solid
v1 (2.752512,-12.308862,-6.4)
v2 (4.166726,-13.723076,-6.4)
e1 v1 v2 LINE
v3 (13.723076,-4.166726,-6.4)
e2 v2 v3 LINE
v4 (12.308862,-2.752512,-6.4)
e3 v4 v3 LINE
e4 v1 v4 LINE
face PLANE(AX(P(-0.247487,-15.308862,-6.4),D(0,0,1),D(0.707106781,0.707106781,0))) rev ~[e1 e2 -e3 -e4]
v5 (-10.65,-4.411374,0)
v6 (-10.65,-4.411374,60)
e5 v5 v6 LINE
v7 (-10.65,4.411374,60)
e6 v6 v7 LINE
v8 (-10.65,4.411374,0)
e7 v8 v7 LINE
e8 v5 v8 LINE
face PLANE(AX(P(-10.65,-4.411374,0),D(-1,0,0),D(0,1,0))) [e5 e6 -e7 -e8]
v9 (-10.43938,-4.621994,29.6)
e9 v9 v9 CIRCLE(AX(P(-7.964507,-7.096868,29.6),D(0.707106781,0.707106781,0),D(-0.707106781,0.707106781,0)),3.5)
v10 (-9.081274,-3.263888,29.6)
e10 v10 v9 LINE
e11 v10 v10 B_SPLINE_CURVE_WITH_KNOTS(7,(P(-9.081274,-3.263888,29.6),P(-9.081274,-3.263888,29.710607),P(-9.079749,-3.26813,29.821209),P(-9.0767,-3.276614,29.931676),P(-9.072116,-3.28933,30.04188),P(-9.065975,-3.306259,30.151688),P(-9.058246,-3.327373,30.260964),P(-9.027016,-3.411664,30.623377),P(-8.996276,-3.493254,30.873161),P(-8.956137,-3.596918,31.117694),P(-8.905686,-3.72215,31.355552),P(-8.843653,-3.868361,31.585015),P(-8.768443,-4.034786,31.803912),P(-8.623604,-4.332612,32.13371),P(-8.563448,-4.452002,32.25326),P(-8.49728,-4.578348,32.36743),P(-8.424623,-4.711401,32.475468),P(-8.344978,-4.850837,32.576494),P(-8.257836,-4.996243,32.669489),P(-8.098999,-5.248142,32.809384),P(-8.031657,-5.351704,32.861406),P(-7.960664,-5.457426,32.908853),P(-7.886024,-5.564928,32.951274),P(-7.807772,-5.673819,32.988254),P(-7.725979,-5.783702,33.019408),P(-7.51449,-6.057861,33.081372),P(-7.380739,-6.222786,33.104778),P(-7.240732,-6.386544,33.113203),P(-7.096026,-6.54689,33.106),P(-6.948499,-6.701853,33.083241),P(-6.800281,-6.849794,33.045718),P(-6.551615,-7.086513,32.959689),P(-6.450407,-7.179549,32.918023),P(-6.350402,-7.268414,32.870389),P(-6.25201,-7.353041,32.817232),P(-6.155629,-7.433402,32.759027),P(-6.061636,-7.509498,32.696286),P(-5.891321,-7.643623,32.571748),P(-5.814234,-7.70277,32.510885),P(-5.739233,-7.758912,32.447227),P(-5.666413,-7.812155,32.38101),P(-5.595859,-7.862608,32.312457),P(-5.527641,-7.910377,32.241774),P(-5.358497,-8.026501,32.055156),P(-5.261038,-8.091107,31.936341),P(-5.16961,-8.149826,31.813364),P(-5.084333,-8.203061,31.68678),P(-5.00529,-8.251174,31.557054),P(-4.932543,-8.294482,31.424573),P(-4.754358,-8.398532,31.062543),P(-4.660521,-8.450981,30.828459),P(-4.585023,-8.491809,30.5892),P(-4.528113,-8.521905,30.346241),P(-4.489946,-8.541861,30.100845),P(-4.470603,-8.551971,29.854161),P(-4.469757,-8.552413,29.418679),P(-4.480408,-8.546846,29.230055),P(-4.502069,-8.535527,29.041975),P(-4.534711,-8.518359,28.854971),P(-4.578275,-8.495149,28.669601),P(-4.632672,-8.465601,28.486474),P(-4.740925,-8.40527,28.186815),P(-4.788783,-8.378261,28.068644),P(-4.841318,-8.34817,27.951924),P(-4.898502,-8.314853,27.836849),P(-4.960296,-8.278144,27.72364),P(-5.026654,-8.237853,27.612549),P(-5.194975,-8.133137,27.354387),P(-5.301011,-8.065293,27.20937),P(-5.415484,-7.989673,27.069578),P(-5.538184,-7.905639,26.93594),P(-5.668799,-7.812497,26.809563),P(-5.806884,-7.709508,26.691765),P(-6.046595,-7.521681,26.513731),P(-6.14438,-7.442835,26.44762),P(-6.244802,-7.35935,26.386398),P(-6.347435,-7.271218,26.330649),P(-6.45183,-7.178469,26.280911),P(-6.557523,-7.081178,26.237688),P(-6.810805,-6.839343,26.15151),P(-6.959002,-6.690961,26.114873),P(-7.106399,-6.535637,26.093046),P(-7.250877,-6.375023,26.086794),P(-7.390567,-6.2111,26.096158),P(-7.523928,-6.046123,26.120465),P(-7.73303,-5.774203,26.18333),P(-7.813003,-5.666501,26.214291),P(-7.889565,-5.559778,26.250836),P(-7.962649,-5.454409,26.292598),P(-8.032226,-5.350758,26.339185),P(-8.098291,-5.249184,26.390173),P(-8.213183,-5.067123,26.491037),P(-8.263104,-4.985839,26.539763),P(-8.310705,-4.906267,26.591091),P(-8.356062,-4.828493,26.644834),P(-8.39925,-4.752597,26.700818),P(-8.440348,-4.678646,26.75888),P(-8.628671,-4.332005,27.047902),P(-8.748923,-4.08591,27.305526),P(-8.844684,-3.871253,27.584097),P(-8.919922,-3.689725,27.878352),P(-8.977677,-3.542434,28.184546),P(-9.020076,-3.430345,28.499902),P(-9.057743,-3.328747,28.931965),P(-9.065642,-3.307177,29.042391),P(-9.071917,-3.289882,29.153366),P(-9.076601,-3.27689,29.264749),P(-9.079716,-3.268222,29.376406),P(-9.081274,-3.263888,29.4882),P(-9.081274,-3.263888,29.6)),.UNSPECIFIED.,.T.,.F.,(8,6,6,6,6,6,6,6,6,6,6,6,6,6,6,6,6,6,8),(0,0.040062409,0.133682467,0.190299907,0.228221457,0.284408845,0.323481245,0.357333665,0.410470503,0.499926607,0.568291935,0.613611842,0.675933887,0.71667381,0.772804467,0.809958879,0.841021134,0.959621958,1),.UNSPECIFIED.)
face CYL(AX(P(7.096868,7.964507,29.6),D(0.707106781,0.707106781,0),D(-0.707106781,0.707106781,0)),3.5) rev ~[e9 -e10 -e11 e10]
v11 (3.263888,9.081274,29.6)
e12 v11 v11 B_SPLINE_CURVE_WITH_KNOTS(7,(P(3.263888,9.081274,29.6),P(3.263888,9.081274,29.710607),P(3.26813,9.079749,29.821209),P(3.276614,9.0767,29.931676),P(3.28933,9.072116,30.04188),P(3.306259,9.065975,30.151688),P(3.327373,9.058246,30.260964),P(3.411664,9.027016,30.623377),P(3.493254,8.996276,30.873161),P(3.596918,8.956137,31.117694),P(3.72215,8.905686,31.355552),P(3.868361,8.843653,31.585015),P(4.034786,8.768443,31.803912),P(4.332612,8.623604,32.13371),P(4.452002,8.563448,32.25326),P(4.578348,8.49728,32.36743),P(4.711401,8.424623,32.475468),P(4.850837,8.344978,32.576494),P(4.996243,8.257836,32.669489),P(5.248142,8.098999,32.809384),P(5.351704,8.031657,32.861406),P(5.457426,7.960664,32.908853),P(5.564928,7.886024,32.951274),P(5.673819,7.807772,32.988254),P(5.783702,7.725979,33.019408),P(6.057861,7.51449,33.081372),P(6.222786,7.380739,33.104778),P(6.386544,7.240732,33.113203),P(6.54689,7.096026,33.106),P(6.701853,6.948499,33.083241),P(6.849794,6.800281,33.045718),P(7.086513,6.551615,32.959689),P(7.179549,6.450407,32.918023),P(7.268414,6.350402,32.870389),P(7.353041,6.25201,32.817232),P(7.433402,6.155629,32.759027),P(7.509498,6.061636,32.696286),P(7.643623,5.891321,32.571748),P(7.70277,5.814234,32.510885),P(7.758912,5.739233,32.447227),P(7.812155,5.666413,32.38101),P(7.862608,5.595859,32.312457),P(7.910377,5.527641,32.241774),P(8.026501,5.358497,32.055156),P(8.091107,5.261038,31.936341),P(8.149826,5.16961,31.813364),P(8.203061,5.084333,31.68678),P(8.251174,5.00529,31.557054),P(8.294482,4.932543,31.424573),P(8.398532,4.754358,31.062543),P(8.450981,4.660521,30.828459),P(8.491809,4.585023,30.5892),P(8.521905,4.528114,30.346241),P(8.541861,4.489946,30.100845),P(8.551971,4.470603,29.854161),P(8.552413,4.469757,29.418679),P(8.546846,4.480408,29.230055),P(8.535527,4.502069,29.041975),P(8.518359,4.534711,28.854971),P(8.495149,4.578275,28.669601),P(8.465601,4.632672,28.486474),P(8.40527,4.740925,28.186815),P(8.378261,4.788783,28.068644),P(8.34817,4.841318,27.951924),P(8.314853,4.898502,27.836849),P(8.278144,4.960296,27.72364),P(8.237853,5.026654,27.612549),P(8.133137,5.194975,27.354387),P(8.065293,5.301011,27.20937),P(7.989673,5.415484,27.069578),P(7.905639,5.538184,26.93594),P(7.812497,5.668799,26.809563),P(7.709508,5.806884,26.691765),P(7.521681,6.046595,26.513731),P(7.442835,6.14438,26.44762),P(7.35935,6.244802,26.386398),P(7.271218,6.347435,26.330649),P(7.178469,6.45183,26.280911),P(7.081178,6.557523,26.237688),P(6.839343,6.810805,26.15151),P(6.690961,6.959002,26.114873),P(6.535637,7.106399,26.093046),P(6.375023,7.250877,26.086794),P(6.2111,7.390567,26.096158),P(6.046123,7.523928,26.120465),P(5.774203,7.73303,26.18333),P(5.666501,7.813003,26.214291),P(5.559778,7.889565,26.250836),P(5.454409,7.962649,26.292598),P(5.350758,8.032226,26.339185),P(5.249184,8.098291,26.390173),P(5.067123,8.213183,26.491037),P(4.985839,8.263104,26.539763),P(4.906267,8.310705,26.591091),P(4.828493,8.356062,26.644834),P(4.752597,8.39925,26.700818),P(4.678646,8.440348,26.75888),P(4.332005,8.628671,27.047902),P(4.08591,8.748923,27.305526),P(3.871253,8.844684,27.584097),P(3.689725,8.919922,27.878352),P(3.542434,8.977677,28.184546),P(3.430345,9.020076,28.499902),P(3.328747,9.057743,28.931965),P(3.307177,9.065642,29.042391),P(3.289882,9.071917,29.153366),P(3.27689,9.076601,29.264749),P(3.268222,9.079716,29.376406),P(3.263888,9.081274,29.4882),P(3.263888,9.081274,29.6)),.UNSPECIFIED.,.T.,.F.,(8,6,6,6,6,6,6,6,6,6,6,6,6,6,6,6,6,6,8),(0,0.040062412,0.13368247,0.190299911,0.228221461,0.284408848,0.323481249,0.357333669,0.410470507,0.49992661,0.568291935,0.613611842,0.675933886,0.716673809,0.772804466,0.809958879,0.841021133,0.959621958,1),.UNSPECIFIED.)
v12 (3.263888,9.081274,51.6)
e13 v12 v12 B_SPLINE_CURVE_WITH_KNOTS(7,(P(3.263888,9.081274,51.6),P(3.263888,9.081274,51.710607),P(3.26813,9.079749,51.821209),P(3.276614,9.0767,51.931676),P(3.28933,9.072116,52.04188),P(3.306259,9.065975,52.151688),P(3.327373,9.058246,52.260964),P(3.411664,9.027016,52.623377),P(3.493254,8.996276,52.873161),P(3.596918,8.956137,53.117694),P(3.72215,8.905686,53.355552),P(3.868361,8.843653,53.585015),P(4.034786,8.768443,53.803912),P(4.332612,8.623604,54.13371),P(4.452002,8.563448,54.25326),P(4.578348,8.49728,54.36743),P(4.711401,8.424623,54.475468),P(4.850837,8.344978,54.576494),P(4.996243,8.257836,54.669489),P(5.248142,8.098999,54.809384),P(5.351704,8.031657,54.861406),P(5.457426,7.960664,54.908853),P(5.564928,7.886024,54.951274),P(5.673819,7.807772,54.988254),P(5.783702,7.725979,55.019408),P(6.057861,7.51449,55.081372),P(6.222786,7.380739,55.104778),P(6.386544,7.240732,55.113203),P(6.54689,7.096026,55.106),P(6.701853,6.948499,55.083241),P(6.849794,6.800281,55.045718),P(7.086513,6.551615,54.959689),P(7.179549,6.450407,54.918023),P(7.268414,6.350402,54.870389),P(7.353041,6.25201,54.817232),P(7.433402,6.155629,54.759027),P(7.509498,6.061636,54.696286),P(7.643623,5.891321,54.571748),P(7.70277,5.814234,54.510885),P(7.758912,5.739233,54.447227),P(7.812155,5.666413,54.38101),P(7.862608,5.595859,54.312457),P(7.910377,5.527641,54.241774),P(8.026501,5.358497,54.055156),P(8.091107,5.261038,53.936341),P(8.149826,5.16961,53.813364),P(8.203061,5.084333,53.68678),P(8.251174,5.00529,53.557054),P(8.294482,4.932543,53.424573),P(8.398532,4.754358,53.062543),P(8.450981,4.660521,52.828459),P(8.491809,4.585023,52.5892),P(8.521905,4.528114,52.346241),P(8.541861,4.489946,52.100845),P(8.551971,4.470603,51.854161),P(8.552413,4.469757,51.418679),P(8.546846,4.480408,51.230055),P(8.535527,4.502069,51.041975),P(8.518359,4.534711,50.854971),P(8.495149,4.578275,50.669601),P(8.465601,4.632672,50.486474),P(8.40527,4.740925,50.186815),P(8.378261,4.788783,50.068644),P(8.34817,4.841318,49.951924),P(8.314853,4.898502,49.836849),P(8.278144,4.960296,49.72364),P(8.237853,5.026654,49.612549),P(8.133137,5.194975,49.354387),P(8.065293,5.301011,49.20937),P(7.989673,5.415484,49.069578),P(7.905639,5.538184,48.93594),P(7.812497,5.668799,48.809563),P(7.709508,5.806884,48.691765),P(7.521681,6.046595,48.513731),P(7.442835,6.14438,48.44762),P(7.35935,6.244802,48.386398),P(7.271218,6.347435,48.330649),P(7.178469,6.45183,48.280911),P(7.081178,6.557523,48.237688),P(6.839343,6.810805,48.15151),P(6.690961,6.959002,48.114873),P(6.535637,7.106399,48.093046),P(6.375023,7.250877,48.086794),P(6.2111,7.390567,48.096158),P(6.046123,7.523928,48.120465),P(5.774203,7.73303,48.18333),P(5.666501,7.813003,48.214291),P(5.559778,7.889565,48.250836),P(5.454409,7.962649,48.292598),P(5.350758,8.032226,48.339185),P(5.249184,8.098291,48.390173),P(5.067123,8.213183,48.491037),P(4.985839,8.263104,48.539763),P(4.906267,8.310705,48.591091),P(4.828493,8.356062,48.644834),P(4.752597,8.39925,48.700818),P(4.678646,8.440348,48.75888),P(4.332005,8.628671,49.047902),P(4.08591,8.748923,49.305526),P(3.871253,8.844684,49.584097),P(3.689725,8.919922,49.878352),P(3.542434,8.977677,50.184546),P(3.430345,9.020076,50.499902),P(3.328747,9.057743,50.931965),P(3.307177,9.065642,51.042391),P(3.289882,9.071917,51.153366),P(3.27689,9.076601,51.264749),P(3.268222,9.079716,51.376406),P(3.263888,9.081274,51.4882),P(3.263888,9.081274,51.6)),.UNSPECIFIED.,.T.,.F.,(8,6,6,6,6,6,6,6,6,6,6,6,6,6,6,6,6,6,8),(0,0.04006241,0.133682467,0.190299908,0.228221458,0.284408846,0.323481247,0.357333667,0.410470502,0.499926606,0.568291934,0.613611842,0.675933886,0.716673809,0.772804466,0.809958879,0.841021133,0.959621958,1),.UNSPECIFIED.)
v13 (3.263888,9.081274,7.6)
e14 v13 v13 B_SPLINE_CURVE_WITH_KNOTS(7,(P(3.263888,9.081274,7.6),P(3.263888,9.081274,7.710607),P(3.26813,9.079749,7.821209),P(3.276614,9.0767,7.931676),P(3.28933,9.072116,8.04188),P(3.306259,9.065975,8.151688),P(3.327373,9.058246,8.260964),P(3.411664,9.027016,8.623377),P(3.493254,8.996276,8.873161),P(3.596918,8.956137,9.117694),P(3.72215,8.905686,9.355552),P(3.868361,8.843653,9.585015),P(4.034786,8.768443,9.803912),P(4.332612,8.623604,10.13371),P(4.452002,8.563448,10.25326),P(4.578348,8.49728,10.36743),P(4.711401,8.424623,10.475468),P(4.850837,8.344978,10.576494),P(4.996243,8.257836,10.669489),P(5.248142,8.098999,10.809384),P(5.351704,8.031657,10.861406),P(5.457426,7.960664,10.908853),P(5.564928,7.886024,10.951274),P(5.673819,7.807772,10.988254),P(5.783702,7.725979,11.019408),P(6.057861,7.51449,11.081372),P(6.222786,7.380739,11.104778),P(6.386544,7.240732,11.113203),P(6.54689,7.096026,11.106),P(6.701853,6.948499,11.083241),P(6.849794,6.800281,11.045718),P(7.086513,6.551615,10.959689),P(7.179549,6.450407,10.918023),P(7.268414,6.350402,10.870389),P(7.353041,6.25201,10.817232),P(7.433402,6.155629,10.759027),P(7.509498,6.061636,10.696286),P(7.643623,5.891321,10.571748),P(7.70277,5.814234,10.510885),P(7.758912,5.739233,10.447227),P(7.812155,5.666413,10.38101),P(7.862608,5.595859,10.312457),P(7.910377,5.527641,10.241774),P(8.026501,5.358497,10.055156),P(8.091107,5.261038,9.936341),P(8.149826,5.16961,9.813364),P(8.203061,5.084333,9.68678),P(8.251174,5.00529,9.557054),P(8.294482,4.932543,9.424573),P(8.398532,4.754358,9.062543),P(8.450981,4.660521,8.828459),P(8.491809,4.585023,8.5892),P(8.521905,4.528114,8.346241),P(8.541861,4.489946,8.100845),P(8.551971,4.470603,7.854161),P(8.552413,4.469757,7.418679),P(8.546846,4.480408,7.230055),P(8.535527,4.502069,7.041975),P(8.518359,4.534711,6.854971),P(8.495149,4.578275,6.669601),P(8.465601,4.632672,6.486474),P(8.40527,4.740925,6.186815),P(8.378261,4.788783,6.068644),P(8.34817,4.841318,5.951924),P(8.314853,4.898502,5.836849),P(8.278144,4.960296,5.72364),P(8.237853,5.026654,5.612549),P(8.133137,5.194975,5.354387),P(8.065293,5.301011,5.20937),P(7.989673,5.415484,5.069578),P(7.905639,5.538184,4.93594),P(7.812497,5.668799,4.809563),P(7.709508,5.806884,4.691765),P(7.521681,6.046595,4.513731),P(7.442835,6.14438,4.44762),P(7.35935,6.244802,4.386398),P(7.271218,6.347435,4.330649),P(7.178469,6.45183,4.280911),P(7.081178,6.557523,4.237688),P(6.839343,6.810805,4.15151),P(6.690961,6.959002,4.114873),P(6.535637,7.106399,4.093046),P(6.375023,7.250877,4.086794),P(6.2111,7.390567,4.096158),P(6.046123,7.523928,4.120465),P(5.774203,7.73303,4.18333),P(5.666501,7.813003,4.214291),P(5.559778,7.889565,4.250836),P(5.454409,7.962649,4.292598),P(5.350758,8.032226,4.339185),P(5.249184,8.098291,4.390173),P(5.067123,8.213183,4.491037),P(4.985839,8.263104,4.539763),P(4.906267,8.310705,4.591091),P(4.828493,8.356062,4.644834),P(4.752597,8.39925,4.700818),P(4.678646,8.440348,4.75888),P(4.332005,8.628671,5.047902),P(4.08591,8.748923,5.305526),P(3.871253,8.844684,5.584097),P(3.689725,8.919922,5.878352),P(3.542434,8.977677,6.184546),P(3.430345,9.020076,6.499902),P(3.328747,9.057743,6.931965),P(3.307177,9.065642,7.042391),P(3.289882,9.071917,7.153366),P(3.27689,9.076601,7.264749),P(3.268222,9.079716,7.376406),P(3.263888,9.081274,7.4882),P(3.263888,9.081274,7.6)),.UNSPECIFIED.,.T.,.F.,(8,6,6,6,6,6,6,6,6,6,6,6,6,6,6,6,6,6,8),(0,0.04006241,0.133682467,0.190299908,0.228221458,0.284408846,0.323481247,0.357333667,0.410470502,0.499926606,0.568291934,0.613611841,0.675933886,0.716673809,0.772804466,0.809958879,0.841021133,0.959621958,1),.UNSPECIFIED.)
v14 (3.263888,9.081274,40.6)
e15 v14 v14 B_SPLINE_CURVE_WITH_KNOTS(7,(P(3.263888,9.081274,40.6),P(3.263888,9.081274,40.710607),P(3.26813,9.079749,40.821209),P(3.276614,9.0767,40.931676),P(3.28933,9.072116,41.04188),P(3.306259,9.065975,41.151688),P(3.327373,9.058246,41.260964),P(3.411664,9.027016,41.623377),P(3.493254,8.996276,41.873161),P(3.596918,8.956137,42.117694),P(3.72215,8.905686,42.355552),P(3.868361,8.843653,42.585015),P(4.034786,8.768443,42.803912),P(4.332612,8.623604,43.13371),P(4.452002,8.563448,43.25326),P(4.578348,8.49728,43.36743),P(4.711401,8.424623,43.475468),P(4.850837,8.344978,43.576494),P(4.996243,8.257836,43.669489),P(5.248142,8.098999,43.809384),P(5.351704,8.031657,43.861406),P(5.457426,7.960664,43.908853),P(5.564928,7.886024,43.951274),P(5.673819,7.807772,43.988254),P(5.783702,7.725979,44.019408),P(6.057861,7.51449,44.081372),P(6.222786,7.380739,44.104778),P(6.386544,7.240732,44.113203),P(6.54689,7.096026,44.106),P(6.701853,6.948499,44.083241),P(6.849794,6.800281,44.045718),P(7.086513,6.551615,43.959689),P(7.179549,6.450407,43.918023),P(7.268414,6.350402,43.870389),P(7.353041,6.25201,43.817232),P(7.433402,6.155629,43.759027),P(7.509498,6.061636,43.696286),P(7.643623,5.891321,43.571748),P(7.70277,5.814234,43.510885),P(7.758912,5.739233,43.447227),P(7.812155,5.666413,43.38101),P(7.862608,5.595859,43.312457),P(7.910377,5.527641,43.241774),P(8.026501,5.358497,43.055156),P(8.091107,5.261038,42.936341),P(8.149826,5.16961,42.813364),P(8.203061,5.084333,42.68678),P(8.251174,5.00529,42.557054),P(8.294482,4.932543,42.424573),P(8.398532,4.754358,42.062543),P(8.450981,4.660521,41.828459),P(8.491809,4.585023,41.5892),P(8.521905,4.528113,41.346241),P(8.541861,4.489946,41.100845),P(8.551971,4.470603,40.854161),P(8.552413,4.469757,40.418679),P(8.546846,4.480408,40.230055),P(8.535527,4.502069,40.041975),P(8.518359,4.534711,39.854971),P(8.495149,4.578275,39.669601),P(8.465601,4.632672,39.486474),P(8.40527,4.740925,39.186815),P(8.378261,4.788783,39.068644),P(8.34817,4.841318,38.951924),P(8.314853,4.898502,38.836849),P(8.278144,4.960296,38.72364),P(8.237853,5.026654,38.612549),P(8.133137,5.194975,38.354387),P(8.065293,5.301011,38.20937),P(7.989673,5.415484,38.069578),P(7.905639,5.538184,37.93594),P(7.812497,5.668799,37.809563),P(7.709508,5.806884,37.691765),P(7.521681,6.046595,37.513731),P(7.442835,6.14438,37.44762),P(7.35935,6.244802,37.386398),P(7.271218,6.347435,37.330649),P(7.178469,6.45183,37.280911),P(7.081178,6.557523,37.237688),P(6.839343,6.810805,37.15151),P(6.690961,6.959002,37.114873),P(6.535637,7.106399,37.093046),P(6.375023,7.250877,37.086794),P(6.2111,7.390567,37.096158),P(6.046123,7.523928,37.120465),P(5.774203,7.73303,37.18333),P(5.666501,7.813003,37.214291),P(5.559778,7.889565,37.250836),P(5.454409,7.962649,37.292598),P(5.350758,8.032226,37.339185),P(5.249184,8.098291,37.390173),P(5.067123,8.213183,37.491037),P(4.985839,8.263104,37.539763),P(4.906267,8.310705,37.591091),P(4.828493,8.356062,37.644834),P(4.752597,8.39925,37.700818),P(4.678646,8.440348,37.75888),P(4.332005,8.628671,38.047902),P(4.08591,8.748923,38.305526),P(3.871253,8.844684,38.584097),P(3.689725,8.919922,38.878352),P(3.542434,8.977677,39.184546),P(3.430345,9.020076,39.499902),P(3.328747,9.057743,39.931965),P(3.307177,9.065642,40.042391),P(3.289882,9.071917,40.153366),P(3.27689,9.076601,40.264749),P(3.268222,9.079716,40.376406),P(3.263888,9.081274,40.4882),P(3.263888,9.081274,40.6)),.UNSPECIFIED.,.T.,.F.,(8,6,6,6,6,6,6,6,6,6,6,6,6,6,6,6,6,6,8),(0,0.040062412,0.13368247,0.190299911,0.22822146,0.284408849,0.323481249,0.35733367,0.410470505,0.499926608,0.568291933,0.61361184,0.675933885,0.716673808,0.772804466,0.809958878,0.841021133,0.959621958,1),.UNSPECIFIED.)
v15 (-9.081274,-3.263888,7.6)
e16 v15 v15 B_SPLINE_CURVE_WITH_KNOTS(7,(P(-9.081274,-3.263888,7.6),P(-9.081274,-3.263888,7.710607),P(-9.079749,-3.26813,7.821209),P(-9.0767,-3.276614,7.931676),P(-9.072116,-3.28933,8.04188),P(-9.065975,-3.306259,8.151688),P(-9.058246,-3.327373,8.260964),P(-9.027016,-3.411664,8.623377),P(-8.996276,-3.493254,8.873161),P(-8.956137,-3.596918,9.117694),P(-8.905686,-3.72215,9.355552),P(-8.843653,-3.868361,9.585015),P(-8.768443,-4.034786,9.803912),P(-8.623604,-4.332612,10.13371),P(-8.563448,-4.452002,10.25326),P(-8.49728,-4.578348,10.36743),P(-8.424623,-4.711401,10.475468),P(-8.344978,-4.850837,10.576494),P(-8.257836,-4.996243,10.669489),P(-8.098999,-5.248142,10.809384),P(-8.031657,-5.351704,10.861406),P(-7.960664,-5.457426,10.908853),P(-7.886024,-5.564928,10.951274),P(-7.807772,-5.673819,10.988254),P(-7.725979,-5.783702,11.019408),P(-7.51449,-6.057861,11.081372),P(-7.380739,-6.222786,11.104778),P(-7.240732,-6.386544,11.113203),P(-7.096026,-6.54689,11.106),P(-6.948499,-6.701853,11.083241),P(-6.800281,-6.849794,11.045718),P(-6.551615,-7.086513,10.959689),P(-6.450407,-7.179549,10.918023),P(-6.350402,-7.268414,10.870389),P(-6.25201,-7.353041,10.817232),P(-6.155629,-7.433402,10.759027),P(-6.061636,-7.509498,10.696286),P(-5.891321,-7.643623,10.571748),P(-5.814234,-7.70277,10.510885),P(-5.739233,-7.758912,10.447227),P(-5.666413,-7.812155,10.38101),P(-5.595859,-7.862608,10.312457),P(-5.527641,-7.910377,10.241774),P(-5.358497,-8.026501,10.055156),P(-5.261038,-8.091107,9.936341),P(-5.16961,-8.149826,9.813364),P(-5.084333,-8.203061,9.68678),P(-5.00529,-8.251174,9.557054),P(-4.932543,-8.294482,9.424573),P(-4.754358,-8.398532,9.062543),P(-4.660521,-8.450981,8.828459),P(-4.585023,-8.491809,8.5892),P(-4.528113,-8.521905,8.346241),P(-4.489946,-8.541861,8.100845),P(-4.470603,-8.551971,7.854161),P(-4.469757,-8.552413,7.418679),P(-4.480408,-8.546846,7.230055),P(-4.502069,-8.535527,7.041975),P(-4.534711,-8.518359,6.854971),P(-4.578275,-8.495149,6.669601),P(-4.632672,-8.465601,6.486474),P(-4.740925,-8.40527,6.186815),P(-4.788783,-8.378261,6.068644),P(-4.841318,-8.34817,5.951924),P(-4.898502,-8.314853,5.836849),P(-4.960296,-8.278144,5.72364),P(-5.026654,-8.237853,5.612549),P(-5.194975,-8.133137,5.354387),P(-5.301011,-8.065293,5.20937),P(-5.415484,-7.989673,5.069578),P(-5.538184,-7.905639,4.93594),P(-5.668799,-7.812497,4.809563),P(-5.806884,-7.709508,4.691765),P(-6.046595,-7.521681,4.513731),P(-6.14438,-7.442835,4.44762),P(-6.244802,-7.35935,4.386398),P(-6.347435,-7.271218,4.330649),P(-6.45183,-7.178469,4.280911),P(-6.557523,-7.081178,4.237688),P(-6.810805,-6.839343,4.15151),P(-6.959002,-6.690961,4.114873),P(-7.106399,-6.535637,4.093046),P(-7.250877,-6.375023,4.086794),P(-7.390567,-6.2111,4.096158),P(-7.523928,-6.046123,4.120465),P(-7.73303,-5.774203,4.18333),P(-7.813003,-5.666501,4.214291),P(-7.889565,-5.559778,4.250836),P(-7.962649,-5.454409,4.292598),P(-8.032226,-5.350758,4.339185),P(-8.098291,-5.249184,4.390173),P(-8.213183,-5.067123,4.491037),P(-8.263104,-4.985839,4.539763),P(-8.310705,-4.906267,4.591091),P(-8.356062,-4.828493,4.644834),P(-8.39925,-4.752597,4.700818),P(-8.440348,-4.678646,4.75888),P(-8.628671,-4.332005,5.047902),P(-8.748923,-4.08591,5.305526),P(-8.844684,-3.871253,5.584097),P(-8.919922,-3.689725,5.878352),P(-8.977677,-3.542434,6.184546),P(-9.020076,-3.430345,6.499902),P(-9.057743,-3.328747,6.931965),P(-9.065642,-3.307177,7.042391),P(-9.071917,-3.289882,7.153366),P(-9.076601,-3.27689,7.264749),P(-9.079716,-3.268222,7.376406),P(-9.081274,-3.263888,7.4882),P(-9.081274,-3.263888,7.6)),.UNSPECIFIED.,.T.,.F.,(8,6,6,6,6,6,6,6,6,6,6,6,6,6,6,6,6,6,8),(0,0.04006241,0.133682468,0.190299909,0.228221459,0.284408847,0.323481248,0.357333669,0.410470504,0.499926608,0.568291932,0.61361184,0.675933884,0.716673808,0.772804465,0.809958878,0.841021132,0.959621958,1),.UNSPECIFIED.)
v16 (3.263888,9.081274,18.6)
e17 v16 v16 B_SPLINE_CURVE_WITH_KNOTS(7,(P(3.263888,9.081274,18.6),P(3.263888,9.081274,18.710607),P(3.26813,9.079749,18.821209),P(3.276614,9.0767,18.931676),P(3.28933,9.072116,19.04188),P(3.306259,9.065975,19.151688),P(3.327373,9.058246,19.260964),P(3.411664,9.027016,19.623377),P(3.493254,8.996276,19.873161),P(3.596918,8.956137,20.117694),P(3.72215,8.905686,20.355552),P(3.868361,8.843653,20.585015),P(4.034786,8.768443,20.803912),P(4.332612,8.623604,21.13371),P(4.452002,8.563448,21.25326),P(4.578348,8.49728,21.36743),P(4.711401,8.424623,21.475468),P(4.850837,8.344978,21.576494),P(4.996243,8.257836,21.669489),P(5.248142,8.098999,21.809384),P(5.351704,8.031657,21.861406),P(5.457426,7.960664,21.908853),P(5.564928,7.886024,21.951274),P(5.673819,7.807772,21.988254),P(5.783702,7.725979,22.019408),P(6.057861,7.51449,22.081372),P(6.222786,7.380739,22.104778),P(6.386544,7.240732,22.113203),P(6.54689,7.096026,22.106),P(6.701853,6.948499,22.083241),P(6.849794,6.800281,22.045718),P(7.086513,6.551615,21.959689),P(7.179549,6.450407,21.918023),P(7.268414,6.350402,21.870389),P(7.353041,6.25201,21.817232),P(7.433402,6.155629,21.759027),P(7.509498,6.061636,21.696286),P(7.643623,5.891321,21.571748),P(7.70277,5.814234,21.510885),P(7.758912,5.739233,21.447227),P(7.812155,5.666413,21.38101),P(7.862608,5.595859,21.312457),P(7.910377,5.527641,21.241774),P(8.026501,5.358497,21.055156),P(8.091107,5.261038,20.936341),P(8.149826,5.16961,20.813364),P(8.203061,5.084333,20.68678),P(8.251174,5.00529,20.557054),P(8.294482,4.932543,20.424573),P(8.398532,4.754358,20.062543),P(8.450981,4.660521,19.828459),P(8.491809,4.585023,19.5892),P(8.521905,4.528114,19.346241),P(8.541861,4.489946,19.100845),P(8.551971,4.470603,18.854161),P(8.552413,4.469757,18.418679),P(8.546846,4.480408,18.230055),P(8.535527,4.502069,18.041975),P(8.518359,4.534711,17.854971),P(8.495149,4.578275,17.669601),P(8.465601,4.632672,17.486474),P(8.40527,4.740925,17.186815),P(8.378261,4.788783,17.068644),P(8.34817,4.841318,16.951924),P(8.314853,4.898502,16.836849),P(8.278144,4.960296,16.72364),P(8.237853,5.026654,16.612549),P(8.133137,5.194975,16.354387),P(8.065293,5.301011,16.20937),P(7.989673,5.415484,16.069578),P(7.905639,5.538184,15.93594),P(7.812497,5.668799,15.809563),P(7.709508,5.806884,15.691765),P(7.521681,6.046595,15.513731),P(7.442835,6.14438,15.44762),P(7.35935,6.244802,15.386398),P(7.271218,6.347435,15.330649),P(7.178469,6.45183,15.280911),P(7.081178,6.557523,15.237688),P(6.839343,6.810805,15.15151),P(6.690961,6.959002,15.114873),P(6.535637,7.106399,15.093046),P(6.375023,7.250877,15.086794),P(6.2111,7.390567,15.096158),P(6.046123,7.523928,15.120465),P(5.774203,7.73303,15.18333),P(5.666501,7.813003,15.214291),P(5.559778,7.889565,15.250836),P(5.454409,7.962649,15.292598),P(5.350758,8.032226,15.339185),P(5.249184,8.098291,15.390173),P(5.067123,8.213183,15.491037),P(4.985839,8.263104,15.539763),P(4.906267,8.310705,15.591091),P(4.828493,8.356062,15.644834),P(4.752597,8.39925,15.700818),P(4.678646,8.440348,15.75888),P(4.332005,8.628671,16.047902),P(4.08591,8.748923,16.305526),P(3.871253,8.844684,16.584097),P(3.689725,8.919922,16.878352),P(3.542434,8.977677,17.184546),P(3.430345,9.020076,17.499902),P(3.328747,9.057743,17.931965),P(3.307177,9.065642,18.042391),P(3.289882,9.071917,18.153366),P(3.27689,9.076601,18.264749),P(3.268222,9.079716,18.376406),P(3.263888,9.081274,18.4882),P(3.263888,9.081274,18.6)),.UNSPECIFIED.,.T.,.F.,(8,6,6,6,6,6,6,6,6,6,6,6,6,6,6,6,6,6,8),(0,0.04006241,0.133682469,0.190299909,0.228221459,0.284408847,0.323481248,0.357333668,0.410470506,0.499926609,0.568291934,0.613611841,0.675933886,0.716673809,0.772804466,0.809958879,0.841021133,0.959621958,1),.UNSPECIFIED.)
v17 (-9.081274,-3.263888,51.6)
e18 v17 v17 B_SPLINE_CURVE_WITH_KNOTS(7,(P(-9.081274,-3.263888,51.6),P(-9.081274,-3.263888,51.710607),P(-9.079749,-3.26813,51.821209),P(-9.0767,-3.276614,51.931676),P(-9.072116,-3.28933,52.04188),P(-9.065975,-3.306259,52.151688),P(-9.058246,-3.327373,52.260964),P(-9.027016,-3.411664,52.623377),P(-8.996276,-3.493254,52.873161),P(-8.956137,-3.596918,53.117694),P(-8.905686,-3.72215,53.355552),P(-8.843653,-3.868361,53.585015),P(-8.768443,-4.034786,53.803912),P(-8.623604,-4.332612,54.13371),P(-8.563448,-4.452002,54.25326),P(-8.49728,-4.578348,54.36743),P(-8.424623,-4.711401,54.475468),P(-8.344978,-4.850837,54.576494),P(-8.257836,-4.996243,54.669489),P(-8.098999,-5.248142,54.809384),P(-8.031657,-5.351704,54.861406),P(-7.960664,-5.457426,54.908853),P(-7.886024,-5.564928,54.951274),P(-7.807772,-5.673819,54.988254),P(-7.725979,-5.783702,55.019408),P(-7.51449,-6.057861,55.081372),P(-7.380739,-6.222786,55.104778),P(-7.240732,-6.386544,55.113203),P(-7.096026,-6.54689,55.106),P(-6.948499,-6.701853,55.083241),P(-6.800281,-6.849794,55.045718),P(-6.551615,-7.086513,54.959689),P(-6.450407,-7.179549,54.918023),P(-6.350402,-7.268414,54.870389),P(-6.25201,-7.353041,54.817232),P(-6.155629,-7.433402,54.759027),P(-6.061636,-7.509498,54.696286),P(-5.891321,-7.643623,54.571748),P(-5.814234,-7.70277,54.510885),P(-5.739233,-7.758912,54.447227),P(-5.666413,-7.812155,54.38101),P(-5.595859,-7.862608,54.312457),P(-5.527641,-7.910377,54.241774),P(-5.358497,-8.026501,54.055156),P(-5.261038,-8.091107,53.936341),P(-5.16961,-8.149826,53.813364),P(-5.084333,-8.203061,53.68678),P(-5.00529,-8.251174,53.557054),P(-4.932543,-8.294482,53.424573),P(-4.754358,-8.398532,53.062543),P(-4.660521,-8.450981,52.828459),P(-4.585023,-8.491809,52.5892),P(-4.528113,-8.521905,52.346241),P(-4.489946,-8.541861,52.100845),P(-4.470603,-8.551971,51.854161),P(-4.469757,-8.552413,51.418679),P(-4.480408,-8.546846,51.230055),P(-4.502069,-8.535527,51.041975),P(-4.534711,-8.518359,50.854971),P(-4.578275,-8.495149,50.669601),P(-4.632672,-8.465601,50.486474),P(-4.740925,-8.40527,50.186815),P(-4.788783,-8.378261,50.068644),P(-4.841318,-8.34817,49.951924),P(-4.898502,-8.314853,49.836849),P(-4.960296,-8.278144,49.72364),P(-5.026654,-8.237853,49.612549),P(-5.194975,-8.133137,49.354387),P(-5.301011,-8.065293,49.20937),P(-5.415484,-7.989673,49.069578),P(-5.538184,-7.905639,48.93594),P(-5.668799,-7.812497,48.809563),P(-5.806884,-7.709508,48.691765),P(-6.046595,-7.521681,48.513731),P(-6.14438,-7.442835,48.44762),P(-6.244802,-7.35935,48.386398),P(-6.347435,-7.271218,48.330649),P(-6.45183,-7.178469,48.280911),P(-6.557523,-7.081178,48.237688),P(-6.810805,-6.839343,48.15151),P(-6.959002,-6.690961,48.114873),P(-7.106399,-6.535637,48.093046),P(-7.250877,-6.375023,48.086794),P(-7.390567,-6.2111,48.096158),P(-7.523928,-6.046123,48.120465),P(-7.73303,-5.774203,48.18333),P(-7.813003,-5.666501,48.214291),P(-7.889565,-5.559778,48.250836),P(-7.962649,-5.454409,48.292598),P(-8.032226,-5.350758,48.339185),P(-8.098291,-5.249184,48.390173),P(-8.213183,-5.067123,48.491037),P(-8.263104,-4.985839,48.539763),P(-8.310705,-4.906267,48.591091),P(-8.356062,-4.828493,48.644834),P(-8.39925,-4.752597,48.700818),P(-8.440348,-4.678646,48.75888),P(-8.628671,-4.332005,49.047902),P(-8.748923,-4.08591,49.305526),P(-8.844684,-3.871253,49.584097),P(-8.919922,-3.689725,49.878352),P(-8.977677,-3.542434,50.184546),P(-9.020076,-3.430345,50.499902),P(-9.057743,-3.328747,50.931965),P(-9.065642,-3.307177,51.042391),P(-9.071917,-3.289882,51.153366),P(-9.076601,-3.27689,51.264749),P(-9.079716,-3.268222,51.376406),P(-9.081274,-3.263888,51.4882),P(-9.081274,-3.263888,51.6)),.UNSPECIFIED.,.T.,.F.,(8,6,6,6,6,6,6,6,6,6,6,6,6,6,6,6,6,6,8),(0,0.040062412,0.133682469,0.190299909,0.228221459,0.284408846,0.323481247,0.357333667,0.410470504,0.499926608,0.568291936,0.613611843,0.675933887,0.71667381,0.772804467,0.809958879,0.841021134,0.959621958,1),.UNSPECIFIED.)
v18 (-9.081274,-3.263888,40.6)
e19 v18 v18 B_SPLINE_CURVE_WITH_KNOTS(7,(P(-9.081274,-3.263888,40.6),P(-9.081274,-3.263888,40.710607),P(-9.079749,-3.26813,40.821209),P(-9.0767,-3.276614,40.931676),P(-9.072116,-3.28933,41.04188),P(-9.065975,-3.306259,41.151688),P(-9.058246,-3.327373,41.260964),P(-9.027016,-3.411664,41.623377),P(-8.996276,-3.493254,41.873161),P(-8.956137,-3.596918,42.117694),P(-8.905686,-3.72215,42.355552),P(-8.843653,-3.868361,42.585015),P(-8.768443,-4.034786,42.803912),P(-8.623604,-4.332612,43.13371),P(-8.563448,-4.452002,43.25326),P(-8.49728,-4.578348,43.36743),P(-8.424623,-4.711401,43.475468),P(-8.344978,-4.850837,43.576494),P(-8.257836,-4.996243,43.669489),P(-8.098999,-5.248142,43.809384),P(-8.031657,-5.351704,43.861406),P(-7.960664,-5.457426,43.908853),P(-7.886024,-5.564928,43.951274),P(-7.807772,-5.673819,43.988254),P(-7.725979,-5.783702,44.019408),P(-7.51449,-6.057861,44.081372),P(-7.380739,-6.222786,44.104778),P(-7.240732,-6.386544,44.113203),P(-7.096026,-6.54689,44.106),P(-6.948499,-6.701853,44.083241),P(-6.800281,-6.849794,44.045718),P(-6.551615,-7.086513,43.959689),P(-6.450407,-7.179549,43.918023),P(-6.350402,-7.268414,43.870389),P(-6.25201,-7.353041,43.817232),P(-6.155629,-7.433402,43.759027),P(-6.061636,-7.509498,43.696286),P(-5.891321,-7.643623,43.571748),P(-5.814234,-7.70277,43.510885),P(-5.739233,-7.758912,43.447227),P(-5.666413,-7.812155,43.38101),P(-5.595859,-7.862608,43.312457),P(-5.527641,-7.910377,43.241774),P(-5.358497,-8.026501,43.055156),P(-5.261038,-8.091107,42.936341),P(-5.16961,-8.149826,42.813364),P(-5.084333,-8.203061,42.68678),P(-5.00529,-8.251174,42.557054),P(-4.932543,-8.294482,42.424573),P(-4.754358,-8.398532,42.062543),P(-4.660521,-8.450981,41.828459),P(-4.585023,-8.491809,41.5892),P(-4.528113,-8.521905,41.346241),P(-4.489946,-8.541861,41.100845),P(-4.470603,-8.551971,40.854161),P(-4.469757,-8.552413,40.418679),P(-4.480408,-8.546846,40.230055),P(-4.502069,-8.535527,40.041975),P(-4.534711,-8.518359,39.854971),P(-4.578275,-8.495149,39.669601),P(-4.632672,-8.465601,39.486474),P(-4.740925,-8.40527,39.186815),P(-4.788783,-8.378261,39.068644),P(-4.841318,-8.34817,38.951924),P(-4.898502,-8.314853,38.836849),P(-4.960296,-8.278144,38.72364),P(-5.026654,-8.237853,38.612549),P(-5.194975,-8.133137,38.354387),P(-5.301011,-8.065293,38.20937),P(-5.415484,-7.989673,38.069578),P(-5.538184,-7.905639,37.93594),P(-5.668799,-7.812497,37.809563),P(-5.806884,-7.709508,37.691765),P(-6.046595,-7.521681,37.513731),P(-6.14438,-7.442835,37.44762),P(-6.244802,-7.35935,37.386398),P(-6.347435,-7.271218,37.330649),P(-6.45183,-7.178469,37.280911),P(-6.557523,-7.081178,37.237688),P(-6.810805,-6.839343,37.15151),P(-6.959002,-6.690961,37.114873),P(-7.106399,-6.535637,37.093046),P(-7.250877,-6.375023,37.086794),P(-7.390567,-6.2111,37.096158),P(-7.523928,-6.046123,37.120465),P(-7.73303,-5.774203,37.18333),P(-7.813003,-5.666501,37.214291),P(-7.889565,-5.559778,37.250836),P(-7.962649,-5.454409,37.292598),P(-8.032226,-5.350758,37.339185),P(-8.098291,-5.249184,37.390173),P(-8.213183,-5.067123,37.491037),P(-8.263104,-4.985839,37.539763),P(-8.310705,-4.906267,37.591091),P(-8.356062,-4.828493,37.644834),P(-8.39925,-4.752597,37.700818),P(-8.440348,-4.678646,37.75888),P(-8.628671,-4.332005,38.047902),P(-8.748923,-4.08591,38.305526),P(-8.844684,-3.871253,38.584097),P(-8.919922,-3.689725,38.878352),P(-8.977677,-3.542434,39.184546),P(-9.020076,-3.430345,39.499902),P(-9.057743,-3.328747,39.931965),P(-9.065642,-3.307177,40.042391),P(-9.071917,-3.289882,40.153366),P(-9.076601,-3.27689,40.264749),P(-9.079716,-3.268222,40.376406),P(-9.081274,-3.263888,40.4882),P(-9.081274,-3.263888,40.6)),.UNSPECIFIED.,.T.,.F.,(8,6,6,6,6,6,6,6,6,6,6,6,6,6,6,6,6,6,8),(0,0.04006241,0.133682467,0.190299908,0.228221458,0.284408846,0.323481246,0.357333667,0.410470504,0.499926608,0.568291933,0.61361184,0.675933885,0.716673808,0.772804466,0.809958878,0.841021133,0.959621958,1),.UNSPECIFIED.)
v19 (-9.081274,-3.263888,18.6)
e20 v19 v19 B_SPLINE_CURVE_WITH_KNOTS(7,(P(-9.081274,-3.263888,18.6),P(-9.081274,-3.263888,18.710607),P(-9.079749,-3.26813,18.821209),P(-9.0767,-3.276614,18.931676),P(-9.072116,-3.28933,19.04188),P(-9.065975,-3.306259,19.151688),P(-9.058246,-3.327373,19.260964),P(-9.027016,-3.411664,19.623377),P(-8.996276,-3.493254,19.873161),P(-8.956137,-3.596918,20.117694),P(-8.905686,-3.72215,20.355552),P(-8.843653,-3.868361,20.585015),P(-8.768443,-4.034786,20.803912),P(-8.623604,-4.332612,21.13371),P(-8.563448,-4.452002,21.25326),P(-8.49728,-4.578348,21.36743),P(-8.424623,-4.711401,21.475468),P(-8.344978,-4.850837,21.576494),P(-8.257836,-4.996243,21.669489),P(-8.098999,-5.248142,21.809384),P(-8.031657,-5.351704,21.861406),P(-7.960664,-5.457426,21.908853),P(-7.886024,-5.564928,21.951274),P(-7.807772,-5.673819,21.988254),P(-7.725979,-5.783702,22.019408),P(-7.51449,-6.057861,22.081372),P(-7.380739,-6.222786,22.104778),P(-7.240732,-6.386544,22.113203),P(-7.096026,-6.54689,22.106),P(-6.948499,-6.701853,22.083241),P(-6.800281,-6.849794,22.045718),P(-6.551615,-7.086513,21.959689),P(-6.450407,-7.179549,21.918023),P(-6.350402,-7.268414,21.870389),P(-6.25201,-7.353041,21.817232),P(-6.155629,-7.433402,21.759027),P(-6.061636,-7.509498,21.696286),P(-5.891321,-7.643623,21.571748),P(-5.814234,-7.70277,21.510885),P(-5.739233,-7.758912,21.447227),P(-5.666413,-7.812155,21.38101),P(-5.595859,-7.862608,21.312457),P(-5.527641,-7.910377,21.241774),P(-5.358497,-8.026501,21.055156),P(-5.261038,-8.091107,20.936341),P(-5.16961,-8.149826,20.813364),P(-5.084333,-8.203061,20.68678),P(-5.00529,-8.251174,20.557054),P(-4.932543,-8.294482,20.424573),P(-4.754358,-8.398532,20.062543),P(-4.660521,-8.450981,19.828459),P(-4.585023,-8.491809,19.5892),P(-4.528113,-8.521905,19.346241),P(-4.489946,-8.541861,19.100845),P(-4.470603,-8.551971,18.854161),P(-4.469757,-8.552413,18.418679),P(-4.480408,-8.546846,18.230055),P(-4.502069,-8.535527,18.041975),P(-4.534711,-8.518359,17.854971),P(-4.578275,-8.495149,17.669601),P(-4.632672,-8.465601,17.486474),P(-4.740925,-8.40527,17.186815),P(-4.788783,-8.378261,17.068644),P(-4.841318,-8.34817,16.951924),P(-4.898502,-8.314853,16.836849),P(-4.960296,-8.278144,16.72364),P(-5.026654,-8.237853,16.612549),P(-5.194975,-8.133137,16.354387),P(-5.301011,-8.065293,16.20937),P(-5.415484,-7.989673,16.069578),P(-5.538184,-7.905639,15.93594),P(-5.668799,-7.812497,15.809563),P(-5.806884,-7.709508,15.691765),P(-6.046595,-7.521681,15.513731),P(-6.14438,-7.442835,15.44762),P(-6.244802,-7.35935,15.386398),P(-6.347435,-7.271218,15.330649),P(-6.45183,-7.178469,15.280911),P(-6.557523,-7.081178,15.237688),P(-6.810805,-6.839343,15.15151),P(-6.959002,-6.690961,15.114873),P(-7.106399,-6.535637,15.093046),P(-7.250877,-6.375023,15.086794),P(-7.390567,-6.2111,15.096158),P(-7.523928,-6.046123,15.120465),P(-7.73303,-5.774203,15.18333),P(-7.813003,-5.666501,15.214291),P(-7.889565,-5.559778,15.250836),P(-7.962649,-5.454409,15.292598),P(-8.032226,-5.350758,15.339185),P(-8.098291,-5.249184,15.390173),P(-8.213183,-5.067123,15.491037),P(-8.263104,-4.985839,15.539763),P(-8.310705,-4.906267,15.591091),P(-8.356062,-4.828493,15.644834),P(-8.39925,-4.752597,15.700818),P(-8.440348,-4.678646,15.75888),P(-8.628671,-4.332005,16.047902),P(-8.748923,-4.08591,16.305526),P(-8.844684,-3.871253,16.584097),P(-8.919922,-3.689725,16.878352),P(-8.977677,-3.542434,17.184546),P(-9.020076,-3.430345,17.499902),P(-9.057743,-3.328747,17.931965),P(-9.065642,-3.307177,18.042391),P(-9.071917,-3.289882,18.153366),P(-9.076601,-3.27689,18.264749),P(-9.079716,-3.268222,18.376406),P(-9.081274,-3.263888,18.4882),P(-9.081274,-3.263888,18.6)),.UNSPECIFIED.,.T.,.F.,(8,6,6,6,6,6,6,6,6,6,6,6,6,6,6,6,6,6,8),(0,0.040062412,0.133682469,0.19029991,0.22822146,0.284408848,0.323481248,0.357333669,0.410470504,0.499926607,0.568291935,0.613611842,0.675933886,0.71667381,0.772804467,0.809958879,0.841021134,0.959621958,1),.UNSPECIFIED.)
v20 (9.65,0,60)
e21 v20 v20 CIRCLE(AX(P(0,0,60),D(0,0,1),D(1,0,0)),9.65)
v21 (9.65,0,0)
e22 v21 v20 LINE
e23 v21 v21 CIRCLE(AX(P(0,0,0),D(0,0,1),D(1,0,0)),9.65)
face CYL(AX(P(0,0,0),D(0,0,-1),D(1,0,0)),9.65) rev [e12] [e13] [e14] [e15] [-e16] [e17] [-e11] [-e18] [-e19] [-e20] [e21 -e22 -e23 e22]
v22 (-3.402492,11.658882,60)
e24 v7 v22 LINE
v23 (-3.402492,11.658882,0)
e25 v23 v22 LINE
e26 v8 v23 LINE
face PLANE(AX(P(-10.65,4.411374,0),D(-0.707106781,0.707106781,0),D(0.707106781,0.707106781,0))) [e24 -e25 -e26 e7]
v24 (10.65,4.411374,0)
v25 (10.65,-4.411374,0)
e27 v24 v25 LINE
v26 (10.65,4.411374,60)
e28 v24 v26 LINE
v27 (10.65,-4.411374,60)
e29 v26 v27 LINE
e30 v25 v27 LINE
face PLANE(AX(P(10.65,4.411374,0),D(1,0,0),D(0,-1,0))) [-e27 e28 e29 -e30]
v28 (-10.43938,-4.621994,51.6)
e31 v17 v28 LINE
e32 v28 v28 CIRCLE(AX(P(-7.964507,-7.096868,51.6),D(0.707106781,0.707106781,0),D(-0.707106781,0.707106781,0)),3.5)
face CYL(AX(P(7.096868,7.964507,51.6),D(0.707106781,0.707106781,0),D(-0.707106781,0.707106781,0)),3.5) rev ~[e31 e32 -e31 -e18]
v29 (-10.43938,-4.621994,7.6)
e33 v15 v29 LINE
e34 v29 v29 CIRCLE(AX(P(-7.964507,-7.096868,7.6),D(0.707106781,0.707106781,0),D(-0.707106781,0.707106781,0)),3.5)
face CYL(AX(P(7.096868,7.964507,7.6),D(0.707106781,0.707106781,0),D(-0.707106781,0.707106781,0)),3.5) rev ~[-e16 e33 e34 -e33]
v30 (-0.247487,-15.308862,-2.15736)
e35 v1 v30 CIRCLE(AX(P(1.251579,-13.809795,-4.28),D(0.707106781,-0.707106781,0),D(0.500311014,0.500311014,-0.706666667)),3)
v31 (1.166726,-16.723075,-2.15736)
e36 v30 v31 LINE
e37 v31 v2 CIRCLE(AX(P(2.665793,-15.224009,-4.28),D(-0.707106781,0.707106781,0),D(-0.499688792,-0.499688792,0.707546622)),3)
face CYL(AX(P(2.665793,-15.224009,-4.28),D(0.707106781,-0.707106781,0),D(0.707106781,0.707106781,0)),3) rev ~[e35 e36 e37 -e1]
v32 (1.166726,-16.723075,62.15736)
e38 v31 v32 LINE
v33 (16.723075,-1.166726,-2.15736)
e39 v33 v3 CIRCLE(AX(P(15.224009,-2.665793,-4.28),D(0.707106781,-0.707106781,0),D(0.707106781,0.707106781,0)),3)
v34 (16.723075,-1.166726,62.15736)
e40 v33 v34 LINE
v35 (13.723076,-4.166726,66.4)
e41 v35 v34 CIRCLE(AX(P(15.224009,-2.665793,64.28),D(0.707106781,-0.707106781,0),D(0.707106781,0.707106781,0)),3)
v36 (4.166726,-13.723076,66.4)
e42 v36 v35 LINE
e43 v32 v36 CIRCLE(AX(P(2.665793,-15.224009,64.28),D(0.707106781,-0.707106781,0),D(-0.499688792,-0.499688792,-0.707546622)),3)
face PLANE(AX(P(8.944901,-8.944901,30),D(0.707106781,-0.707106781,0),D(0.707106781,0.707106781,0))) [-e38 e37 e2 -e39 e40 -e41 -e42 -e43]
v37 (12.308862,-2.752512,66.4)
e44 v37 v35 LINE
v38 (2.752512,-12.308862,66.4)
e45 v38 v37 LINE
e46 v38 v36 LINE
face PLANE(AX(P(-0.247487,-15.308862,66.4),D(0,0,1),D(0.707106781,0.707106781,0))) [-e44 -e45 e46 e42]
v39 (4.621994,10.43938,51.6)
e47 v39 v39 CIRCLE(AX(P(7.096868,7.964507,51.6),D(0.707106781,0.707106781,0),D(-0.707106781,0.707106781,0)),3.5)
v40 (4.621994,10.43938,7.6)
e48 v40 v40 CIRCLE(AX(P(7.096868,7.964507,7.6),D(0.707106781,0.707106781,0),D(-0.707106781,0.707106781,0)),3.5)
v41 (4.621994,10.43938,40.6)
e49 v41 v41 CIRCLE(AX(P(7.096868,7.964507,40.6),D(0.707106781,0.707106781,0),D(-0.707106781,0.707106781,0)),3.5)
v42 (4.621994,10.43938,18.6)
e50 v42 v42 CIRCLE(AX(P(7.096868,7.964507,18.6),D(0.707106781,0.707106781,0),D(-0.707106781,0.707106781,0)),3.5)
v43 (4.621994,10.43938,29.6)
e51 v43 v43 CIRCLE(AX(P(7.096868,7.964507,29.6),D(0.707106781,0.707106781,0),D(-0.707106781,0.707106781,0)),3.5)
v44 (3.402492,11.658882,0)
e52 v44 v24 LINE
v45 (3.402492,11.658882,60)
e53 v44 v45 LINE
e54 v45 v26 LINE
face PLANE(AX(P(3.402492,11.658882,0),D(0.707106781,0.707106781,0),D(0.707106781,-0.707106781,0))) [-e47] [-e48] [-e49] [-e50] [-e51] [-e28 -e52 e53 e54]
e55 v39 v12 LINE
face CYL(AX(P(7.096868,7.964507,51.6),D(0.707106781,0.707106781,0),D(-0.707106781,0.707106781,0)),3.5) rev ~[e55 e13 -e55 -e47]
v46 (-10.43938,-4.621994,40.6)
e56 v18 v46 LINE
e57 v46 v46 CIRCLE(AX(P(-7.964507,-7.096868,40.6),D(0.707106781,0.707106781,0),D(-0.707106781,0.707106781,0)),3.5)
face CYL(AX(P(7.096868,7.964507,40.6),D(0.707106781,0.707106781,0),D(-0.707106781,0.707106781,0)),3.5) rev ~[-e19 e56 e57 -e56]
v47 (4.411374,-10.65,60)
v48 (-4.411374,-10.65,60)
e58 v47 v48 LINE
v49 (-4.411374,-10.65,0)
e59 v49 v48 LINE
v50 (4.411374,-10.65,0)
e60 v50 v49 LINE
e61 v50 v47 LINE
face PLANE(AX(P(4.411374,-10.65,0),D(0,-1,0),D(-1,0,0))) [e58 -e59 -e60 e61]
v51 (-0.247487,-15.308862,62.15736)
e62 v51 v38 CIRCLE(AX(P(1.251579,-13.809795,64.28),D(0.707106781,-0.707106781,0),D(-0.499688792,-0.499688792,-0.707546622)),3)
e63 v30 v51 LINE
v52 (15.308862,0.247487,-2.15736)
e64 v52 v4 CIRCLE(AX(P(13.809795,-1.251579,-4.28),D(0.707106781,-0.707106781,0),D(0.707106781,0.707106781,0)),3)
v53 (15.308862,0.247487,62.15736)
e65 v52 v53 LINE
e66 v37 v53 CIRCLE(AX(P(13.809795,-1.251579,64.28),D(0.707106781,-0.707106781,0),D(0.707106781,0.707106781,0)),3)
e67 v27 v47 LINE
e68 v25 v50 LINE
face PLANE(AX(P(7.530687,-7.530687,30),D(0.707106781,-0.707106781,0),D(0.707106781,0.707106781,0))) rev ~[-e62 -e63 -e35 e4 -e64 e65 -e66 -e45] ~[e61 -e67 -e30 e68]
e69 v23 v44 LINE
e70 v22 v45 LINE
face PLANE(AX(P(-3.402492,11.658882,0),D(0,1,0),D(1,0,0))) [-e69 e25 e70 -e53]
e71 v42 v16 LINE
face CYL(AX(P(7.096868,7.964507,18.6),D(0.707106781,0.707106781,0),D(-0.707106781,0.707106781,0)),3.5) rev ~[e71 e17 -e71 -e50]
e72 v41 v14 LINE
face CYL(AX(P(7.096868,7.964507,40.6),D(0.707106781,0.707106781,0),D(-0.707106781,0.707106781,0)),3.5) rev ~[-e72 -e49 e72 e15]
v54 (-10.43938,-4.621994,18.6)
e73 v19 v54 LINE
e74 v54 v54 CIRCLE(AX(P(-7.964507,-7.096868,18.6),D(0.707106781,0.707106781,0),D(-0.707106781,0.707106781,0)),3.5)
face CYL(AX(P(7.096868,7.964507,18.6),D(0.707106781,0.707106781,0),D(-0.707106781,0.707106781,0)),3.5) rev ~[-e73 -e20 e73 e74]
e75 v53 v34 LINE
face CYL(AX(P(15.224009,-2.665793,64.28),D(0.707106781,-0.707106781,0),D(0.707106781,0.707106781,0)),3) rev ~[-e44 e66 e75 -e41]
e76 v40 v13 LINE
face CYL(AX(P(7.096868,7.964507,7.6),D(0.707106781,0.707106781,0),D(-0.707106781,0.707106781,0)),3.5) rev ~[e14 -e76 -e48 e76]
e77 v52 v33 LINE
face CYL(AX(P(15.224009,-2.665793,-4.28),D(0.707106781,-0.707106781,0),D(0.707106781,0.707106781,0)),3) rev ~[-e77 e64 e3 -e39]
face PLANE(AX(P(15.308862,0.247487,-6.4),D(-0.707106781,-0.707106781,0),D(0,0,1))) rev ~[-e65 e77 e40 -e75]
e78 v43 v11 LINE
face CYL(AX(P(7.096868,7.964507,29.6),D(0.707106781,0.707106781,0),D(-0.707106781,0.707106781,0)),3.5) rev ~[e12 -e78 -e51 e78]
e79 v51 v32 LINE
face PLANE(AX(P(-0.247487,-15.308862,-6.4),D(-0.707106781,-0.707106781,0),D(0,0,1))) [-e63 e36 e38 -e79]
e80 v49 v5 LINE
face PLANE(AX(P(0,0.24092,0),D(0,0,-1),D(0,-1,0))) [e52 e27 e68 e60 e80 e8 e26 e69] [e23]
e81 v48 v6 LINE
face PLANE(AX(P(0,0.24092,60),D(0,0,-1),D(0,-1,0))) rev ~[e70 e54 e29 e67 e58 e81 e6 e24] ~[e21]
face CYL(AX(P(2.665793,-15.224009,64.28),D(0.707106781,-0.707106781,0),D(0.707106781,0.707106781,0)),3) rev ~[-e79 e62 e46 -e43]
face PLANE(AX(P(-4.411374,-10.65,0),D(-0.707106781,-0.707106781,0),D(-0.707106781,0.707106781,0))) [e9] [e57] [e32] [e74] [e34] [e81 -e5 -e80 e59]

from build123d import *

# Parameters (mm, degrees)
SKIZZE1_R                        = 9.65
AUFSATZ_LINEAR_AUSTRAGEN1_DEPTH  = 60
SKIZZE9_R                        = 3.5
SCHNITT_LINEAR_AUSTRAGEN8_DEPTH  = 66.276908441
SKIZZE13_W                       = 22
SKIZZE13_H                       = 72.8
AUFSATZ_LINEAR_AUSTRAGEN2_DEPTH  = 2
SKIZZE14_R                       = 3
SCHNITT_LINEAR_AUSTRAGEN12_DEPTH = 2


with BuildPart() as part:
    # Skizze1 → Aufsatz-Linear austragen1 (new body)
    with BuildSketch(Plane(origin=(0, 0, 0), x_dir=(0, 1, 0), z_dir=(0, 0, 1))):
        Polygon((11.65888225, 3.402492189), (11.65888225, -3.402492189), (4.411374439, -10.65), (-4.411374439, -10.65), (-10.65, -4.411374439), (-10.65, 4.411374439), (-4.411374439, 10.65), (4.411374439, 10.65), align=None)
        with Locations(Location((0, 0, 0), (0, 0, 270))):
            Circle(SKIZZE1_R, mode=Mode.SUBTRACT)
    extrude(amount=AUFSATZ_LINEAR_AUSTRAGEN1_DEPTH)

    # Skizze9 → Schnitt-Linear austragen8 (cut, through all)
    with BuildSketch(Plane(origin=(7.53068722, 7.53068722, 0), x_dir=(-0.7071067811865476, 0.7071067811865475, 0), z_dir=(0.7071067811865475, 0.7071067811865476, 0))):
        with Locations((0.613513233, 51.6)):
            Circle(SKIZZE9_R)
        with Locations((0.613513233, 40.6)):
            Circle(SKIZZE9_R)
        with Locations((0.613513233, 29.6)):
            Circle(SKIZZE9_R)
        with Locations((0.613513233, 18.6)):
            Circle(SKIZZE9_R)
        with Locations((0.613513233, 7.6)):
            Circle(SKIZZE9_R)
    extrude(amount=-SCHNITT_LINEAR_AUSTRAGEN8_DEPTH, mode=Mode.SUBTRACT)

    # Skizze13 → Aufsatz-Linear austragen2 (add)
    with BuildSketch(Plane(origin=(7.53068722, -7.53068722, 0), x_dir=(0.7071067811865477, 0.7071067811865475, 0), z_dir=(0.7071067811865475, -0.7071067811865477, 0))):
        with Locations((0, 30)):
            Rectangle(SKIZZE13_W, SKIZZE13_H)
    extrude(amount=AUFSATZ_LINEAR_AUSTRAGEN2_DEPTH)

    # Skizze14 → Schnitt-Linear austragen12 (cut)
    with BuildSketch(Plane(origin=(8.944900782, -8.944900782, 0), x_dir=(0.7071067811865478, 0.7071067811865474, 0), z_dir=(0.7071067811865474, -0.7071067811865478, 0))):
        with Locations((8.88, 64.28)):
            Circle(SKIZZE14_R)
        with Locations((-8.88, -4.28)):
            Circle(SKIZZE14_R)
        with Locations((8.88, -4.28)):
            Circle(SKIZZE14_R)
        with Locations((-8.88, 64.28)):
            Circle(SKIZZE14_R)
    extrude(amount=-SCHNITT_LINEAR_AUSTRAGEN12_DEPTH, mode=Mode.SUBTRACT)


solid = part.part
